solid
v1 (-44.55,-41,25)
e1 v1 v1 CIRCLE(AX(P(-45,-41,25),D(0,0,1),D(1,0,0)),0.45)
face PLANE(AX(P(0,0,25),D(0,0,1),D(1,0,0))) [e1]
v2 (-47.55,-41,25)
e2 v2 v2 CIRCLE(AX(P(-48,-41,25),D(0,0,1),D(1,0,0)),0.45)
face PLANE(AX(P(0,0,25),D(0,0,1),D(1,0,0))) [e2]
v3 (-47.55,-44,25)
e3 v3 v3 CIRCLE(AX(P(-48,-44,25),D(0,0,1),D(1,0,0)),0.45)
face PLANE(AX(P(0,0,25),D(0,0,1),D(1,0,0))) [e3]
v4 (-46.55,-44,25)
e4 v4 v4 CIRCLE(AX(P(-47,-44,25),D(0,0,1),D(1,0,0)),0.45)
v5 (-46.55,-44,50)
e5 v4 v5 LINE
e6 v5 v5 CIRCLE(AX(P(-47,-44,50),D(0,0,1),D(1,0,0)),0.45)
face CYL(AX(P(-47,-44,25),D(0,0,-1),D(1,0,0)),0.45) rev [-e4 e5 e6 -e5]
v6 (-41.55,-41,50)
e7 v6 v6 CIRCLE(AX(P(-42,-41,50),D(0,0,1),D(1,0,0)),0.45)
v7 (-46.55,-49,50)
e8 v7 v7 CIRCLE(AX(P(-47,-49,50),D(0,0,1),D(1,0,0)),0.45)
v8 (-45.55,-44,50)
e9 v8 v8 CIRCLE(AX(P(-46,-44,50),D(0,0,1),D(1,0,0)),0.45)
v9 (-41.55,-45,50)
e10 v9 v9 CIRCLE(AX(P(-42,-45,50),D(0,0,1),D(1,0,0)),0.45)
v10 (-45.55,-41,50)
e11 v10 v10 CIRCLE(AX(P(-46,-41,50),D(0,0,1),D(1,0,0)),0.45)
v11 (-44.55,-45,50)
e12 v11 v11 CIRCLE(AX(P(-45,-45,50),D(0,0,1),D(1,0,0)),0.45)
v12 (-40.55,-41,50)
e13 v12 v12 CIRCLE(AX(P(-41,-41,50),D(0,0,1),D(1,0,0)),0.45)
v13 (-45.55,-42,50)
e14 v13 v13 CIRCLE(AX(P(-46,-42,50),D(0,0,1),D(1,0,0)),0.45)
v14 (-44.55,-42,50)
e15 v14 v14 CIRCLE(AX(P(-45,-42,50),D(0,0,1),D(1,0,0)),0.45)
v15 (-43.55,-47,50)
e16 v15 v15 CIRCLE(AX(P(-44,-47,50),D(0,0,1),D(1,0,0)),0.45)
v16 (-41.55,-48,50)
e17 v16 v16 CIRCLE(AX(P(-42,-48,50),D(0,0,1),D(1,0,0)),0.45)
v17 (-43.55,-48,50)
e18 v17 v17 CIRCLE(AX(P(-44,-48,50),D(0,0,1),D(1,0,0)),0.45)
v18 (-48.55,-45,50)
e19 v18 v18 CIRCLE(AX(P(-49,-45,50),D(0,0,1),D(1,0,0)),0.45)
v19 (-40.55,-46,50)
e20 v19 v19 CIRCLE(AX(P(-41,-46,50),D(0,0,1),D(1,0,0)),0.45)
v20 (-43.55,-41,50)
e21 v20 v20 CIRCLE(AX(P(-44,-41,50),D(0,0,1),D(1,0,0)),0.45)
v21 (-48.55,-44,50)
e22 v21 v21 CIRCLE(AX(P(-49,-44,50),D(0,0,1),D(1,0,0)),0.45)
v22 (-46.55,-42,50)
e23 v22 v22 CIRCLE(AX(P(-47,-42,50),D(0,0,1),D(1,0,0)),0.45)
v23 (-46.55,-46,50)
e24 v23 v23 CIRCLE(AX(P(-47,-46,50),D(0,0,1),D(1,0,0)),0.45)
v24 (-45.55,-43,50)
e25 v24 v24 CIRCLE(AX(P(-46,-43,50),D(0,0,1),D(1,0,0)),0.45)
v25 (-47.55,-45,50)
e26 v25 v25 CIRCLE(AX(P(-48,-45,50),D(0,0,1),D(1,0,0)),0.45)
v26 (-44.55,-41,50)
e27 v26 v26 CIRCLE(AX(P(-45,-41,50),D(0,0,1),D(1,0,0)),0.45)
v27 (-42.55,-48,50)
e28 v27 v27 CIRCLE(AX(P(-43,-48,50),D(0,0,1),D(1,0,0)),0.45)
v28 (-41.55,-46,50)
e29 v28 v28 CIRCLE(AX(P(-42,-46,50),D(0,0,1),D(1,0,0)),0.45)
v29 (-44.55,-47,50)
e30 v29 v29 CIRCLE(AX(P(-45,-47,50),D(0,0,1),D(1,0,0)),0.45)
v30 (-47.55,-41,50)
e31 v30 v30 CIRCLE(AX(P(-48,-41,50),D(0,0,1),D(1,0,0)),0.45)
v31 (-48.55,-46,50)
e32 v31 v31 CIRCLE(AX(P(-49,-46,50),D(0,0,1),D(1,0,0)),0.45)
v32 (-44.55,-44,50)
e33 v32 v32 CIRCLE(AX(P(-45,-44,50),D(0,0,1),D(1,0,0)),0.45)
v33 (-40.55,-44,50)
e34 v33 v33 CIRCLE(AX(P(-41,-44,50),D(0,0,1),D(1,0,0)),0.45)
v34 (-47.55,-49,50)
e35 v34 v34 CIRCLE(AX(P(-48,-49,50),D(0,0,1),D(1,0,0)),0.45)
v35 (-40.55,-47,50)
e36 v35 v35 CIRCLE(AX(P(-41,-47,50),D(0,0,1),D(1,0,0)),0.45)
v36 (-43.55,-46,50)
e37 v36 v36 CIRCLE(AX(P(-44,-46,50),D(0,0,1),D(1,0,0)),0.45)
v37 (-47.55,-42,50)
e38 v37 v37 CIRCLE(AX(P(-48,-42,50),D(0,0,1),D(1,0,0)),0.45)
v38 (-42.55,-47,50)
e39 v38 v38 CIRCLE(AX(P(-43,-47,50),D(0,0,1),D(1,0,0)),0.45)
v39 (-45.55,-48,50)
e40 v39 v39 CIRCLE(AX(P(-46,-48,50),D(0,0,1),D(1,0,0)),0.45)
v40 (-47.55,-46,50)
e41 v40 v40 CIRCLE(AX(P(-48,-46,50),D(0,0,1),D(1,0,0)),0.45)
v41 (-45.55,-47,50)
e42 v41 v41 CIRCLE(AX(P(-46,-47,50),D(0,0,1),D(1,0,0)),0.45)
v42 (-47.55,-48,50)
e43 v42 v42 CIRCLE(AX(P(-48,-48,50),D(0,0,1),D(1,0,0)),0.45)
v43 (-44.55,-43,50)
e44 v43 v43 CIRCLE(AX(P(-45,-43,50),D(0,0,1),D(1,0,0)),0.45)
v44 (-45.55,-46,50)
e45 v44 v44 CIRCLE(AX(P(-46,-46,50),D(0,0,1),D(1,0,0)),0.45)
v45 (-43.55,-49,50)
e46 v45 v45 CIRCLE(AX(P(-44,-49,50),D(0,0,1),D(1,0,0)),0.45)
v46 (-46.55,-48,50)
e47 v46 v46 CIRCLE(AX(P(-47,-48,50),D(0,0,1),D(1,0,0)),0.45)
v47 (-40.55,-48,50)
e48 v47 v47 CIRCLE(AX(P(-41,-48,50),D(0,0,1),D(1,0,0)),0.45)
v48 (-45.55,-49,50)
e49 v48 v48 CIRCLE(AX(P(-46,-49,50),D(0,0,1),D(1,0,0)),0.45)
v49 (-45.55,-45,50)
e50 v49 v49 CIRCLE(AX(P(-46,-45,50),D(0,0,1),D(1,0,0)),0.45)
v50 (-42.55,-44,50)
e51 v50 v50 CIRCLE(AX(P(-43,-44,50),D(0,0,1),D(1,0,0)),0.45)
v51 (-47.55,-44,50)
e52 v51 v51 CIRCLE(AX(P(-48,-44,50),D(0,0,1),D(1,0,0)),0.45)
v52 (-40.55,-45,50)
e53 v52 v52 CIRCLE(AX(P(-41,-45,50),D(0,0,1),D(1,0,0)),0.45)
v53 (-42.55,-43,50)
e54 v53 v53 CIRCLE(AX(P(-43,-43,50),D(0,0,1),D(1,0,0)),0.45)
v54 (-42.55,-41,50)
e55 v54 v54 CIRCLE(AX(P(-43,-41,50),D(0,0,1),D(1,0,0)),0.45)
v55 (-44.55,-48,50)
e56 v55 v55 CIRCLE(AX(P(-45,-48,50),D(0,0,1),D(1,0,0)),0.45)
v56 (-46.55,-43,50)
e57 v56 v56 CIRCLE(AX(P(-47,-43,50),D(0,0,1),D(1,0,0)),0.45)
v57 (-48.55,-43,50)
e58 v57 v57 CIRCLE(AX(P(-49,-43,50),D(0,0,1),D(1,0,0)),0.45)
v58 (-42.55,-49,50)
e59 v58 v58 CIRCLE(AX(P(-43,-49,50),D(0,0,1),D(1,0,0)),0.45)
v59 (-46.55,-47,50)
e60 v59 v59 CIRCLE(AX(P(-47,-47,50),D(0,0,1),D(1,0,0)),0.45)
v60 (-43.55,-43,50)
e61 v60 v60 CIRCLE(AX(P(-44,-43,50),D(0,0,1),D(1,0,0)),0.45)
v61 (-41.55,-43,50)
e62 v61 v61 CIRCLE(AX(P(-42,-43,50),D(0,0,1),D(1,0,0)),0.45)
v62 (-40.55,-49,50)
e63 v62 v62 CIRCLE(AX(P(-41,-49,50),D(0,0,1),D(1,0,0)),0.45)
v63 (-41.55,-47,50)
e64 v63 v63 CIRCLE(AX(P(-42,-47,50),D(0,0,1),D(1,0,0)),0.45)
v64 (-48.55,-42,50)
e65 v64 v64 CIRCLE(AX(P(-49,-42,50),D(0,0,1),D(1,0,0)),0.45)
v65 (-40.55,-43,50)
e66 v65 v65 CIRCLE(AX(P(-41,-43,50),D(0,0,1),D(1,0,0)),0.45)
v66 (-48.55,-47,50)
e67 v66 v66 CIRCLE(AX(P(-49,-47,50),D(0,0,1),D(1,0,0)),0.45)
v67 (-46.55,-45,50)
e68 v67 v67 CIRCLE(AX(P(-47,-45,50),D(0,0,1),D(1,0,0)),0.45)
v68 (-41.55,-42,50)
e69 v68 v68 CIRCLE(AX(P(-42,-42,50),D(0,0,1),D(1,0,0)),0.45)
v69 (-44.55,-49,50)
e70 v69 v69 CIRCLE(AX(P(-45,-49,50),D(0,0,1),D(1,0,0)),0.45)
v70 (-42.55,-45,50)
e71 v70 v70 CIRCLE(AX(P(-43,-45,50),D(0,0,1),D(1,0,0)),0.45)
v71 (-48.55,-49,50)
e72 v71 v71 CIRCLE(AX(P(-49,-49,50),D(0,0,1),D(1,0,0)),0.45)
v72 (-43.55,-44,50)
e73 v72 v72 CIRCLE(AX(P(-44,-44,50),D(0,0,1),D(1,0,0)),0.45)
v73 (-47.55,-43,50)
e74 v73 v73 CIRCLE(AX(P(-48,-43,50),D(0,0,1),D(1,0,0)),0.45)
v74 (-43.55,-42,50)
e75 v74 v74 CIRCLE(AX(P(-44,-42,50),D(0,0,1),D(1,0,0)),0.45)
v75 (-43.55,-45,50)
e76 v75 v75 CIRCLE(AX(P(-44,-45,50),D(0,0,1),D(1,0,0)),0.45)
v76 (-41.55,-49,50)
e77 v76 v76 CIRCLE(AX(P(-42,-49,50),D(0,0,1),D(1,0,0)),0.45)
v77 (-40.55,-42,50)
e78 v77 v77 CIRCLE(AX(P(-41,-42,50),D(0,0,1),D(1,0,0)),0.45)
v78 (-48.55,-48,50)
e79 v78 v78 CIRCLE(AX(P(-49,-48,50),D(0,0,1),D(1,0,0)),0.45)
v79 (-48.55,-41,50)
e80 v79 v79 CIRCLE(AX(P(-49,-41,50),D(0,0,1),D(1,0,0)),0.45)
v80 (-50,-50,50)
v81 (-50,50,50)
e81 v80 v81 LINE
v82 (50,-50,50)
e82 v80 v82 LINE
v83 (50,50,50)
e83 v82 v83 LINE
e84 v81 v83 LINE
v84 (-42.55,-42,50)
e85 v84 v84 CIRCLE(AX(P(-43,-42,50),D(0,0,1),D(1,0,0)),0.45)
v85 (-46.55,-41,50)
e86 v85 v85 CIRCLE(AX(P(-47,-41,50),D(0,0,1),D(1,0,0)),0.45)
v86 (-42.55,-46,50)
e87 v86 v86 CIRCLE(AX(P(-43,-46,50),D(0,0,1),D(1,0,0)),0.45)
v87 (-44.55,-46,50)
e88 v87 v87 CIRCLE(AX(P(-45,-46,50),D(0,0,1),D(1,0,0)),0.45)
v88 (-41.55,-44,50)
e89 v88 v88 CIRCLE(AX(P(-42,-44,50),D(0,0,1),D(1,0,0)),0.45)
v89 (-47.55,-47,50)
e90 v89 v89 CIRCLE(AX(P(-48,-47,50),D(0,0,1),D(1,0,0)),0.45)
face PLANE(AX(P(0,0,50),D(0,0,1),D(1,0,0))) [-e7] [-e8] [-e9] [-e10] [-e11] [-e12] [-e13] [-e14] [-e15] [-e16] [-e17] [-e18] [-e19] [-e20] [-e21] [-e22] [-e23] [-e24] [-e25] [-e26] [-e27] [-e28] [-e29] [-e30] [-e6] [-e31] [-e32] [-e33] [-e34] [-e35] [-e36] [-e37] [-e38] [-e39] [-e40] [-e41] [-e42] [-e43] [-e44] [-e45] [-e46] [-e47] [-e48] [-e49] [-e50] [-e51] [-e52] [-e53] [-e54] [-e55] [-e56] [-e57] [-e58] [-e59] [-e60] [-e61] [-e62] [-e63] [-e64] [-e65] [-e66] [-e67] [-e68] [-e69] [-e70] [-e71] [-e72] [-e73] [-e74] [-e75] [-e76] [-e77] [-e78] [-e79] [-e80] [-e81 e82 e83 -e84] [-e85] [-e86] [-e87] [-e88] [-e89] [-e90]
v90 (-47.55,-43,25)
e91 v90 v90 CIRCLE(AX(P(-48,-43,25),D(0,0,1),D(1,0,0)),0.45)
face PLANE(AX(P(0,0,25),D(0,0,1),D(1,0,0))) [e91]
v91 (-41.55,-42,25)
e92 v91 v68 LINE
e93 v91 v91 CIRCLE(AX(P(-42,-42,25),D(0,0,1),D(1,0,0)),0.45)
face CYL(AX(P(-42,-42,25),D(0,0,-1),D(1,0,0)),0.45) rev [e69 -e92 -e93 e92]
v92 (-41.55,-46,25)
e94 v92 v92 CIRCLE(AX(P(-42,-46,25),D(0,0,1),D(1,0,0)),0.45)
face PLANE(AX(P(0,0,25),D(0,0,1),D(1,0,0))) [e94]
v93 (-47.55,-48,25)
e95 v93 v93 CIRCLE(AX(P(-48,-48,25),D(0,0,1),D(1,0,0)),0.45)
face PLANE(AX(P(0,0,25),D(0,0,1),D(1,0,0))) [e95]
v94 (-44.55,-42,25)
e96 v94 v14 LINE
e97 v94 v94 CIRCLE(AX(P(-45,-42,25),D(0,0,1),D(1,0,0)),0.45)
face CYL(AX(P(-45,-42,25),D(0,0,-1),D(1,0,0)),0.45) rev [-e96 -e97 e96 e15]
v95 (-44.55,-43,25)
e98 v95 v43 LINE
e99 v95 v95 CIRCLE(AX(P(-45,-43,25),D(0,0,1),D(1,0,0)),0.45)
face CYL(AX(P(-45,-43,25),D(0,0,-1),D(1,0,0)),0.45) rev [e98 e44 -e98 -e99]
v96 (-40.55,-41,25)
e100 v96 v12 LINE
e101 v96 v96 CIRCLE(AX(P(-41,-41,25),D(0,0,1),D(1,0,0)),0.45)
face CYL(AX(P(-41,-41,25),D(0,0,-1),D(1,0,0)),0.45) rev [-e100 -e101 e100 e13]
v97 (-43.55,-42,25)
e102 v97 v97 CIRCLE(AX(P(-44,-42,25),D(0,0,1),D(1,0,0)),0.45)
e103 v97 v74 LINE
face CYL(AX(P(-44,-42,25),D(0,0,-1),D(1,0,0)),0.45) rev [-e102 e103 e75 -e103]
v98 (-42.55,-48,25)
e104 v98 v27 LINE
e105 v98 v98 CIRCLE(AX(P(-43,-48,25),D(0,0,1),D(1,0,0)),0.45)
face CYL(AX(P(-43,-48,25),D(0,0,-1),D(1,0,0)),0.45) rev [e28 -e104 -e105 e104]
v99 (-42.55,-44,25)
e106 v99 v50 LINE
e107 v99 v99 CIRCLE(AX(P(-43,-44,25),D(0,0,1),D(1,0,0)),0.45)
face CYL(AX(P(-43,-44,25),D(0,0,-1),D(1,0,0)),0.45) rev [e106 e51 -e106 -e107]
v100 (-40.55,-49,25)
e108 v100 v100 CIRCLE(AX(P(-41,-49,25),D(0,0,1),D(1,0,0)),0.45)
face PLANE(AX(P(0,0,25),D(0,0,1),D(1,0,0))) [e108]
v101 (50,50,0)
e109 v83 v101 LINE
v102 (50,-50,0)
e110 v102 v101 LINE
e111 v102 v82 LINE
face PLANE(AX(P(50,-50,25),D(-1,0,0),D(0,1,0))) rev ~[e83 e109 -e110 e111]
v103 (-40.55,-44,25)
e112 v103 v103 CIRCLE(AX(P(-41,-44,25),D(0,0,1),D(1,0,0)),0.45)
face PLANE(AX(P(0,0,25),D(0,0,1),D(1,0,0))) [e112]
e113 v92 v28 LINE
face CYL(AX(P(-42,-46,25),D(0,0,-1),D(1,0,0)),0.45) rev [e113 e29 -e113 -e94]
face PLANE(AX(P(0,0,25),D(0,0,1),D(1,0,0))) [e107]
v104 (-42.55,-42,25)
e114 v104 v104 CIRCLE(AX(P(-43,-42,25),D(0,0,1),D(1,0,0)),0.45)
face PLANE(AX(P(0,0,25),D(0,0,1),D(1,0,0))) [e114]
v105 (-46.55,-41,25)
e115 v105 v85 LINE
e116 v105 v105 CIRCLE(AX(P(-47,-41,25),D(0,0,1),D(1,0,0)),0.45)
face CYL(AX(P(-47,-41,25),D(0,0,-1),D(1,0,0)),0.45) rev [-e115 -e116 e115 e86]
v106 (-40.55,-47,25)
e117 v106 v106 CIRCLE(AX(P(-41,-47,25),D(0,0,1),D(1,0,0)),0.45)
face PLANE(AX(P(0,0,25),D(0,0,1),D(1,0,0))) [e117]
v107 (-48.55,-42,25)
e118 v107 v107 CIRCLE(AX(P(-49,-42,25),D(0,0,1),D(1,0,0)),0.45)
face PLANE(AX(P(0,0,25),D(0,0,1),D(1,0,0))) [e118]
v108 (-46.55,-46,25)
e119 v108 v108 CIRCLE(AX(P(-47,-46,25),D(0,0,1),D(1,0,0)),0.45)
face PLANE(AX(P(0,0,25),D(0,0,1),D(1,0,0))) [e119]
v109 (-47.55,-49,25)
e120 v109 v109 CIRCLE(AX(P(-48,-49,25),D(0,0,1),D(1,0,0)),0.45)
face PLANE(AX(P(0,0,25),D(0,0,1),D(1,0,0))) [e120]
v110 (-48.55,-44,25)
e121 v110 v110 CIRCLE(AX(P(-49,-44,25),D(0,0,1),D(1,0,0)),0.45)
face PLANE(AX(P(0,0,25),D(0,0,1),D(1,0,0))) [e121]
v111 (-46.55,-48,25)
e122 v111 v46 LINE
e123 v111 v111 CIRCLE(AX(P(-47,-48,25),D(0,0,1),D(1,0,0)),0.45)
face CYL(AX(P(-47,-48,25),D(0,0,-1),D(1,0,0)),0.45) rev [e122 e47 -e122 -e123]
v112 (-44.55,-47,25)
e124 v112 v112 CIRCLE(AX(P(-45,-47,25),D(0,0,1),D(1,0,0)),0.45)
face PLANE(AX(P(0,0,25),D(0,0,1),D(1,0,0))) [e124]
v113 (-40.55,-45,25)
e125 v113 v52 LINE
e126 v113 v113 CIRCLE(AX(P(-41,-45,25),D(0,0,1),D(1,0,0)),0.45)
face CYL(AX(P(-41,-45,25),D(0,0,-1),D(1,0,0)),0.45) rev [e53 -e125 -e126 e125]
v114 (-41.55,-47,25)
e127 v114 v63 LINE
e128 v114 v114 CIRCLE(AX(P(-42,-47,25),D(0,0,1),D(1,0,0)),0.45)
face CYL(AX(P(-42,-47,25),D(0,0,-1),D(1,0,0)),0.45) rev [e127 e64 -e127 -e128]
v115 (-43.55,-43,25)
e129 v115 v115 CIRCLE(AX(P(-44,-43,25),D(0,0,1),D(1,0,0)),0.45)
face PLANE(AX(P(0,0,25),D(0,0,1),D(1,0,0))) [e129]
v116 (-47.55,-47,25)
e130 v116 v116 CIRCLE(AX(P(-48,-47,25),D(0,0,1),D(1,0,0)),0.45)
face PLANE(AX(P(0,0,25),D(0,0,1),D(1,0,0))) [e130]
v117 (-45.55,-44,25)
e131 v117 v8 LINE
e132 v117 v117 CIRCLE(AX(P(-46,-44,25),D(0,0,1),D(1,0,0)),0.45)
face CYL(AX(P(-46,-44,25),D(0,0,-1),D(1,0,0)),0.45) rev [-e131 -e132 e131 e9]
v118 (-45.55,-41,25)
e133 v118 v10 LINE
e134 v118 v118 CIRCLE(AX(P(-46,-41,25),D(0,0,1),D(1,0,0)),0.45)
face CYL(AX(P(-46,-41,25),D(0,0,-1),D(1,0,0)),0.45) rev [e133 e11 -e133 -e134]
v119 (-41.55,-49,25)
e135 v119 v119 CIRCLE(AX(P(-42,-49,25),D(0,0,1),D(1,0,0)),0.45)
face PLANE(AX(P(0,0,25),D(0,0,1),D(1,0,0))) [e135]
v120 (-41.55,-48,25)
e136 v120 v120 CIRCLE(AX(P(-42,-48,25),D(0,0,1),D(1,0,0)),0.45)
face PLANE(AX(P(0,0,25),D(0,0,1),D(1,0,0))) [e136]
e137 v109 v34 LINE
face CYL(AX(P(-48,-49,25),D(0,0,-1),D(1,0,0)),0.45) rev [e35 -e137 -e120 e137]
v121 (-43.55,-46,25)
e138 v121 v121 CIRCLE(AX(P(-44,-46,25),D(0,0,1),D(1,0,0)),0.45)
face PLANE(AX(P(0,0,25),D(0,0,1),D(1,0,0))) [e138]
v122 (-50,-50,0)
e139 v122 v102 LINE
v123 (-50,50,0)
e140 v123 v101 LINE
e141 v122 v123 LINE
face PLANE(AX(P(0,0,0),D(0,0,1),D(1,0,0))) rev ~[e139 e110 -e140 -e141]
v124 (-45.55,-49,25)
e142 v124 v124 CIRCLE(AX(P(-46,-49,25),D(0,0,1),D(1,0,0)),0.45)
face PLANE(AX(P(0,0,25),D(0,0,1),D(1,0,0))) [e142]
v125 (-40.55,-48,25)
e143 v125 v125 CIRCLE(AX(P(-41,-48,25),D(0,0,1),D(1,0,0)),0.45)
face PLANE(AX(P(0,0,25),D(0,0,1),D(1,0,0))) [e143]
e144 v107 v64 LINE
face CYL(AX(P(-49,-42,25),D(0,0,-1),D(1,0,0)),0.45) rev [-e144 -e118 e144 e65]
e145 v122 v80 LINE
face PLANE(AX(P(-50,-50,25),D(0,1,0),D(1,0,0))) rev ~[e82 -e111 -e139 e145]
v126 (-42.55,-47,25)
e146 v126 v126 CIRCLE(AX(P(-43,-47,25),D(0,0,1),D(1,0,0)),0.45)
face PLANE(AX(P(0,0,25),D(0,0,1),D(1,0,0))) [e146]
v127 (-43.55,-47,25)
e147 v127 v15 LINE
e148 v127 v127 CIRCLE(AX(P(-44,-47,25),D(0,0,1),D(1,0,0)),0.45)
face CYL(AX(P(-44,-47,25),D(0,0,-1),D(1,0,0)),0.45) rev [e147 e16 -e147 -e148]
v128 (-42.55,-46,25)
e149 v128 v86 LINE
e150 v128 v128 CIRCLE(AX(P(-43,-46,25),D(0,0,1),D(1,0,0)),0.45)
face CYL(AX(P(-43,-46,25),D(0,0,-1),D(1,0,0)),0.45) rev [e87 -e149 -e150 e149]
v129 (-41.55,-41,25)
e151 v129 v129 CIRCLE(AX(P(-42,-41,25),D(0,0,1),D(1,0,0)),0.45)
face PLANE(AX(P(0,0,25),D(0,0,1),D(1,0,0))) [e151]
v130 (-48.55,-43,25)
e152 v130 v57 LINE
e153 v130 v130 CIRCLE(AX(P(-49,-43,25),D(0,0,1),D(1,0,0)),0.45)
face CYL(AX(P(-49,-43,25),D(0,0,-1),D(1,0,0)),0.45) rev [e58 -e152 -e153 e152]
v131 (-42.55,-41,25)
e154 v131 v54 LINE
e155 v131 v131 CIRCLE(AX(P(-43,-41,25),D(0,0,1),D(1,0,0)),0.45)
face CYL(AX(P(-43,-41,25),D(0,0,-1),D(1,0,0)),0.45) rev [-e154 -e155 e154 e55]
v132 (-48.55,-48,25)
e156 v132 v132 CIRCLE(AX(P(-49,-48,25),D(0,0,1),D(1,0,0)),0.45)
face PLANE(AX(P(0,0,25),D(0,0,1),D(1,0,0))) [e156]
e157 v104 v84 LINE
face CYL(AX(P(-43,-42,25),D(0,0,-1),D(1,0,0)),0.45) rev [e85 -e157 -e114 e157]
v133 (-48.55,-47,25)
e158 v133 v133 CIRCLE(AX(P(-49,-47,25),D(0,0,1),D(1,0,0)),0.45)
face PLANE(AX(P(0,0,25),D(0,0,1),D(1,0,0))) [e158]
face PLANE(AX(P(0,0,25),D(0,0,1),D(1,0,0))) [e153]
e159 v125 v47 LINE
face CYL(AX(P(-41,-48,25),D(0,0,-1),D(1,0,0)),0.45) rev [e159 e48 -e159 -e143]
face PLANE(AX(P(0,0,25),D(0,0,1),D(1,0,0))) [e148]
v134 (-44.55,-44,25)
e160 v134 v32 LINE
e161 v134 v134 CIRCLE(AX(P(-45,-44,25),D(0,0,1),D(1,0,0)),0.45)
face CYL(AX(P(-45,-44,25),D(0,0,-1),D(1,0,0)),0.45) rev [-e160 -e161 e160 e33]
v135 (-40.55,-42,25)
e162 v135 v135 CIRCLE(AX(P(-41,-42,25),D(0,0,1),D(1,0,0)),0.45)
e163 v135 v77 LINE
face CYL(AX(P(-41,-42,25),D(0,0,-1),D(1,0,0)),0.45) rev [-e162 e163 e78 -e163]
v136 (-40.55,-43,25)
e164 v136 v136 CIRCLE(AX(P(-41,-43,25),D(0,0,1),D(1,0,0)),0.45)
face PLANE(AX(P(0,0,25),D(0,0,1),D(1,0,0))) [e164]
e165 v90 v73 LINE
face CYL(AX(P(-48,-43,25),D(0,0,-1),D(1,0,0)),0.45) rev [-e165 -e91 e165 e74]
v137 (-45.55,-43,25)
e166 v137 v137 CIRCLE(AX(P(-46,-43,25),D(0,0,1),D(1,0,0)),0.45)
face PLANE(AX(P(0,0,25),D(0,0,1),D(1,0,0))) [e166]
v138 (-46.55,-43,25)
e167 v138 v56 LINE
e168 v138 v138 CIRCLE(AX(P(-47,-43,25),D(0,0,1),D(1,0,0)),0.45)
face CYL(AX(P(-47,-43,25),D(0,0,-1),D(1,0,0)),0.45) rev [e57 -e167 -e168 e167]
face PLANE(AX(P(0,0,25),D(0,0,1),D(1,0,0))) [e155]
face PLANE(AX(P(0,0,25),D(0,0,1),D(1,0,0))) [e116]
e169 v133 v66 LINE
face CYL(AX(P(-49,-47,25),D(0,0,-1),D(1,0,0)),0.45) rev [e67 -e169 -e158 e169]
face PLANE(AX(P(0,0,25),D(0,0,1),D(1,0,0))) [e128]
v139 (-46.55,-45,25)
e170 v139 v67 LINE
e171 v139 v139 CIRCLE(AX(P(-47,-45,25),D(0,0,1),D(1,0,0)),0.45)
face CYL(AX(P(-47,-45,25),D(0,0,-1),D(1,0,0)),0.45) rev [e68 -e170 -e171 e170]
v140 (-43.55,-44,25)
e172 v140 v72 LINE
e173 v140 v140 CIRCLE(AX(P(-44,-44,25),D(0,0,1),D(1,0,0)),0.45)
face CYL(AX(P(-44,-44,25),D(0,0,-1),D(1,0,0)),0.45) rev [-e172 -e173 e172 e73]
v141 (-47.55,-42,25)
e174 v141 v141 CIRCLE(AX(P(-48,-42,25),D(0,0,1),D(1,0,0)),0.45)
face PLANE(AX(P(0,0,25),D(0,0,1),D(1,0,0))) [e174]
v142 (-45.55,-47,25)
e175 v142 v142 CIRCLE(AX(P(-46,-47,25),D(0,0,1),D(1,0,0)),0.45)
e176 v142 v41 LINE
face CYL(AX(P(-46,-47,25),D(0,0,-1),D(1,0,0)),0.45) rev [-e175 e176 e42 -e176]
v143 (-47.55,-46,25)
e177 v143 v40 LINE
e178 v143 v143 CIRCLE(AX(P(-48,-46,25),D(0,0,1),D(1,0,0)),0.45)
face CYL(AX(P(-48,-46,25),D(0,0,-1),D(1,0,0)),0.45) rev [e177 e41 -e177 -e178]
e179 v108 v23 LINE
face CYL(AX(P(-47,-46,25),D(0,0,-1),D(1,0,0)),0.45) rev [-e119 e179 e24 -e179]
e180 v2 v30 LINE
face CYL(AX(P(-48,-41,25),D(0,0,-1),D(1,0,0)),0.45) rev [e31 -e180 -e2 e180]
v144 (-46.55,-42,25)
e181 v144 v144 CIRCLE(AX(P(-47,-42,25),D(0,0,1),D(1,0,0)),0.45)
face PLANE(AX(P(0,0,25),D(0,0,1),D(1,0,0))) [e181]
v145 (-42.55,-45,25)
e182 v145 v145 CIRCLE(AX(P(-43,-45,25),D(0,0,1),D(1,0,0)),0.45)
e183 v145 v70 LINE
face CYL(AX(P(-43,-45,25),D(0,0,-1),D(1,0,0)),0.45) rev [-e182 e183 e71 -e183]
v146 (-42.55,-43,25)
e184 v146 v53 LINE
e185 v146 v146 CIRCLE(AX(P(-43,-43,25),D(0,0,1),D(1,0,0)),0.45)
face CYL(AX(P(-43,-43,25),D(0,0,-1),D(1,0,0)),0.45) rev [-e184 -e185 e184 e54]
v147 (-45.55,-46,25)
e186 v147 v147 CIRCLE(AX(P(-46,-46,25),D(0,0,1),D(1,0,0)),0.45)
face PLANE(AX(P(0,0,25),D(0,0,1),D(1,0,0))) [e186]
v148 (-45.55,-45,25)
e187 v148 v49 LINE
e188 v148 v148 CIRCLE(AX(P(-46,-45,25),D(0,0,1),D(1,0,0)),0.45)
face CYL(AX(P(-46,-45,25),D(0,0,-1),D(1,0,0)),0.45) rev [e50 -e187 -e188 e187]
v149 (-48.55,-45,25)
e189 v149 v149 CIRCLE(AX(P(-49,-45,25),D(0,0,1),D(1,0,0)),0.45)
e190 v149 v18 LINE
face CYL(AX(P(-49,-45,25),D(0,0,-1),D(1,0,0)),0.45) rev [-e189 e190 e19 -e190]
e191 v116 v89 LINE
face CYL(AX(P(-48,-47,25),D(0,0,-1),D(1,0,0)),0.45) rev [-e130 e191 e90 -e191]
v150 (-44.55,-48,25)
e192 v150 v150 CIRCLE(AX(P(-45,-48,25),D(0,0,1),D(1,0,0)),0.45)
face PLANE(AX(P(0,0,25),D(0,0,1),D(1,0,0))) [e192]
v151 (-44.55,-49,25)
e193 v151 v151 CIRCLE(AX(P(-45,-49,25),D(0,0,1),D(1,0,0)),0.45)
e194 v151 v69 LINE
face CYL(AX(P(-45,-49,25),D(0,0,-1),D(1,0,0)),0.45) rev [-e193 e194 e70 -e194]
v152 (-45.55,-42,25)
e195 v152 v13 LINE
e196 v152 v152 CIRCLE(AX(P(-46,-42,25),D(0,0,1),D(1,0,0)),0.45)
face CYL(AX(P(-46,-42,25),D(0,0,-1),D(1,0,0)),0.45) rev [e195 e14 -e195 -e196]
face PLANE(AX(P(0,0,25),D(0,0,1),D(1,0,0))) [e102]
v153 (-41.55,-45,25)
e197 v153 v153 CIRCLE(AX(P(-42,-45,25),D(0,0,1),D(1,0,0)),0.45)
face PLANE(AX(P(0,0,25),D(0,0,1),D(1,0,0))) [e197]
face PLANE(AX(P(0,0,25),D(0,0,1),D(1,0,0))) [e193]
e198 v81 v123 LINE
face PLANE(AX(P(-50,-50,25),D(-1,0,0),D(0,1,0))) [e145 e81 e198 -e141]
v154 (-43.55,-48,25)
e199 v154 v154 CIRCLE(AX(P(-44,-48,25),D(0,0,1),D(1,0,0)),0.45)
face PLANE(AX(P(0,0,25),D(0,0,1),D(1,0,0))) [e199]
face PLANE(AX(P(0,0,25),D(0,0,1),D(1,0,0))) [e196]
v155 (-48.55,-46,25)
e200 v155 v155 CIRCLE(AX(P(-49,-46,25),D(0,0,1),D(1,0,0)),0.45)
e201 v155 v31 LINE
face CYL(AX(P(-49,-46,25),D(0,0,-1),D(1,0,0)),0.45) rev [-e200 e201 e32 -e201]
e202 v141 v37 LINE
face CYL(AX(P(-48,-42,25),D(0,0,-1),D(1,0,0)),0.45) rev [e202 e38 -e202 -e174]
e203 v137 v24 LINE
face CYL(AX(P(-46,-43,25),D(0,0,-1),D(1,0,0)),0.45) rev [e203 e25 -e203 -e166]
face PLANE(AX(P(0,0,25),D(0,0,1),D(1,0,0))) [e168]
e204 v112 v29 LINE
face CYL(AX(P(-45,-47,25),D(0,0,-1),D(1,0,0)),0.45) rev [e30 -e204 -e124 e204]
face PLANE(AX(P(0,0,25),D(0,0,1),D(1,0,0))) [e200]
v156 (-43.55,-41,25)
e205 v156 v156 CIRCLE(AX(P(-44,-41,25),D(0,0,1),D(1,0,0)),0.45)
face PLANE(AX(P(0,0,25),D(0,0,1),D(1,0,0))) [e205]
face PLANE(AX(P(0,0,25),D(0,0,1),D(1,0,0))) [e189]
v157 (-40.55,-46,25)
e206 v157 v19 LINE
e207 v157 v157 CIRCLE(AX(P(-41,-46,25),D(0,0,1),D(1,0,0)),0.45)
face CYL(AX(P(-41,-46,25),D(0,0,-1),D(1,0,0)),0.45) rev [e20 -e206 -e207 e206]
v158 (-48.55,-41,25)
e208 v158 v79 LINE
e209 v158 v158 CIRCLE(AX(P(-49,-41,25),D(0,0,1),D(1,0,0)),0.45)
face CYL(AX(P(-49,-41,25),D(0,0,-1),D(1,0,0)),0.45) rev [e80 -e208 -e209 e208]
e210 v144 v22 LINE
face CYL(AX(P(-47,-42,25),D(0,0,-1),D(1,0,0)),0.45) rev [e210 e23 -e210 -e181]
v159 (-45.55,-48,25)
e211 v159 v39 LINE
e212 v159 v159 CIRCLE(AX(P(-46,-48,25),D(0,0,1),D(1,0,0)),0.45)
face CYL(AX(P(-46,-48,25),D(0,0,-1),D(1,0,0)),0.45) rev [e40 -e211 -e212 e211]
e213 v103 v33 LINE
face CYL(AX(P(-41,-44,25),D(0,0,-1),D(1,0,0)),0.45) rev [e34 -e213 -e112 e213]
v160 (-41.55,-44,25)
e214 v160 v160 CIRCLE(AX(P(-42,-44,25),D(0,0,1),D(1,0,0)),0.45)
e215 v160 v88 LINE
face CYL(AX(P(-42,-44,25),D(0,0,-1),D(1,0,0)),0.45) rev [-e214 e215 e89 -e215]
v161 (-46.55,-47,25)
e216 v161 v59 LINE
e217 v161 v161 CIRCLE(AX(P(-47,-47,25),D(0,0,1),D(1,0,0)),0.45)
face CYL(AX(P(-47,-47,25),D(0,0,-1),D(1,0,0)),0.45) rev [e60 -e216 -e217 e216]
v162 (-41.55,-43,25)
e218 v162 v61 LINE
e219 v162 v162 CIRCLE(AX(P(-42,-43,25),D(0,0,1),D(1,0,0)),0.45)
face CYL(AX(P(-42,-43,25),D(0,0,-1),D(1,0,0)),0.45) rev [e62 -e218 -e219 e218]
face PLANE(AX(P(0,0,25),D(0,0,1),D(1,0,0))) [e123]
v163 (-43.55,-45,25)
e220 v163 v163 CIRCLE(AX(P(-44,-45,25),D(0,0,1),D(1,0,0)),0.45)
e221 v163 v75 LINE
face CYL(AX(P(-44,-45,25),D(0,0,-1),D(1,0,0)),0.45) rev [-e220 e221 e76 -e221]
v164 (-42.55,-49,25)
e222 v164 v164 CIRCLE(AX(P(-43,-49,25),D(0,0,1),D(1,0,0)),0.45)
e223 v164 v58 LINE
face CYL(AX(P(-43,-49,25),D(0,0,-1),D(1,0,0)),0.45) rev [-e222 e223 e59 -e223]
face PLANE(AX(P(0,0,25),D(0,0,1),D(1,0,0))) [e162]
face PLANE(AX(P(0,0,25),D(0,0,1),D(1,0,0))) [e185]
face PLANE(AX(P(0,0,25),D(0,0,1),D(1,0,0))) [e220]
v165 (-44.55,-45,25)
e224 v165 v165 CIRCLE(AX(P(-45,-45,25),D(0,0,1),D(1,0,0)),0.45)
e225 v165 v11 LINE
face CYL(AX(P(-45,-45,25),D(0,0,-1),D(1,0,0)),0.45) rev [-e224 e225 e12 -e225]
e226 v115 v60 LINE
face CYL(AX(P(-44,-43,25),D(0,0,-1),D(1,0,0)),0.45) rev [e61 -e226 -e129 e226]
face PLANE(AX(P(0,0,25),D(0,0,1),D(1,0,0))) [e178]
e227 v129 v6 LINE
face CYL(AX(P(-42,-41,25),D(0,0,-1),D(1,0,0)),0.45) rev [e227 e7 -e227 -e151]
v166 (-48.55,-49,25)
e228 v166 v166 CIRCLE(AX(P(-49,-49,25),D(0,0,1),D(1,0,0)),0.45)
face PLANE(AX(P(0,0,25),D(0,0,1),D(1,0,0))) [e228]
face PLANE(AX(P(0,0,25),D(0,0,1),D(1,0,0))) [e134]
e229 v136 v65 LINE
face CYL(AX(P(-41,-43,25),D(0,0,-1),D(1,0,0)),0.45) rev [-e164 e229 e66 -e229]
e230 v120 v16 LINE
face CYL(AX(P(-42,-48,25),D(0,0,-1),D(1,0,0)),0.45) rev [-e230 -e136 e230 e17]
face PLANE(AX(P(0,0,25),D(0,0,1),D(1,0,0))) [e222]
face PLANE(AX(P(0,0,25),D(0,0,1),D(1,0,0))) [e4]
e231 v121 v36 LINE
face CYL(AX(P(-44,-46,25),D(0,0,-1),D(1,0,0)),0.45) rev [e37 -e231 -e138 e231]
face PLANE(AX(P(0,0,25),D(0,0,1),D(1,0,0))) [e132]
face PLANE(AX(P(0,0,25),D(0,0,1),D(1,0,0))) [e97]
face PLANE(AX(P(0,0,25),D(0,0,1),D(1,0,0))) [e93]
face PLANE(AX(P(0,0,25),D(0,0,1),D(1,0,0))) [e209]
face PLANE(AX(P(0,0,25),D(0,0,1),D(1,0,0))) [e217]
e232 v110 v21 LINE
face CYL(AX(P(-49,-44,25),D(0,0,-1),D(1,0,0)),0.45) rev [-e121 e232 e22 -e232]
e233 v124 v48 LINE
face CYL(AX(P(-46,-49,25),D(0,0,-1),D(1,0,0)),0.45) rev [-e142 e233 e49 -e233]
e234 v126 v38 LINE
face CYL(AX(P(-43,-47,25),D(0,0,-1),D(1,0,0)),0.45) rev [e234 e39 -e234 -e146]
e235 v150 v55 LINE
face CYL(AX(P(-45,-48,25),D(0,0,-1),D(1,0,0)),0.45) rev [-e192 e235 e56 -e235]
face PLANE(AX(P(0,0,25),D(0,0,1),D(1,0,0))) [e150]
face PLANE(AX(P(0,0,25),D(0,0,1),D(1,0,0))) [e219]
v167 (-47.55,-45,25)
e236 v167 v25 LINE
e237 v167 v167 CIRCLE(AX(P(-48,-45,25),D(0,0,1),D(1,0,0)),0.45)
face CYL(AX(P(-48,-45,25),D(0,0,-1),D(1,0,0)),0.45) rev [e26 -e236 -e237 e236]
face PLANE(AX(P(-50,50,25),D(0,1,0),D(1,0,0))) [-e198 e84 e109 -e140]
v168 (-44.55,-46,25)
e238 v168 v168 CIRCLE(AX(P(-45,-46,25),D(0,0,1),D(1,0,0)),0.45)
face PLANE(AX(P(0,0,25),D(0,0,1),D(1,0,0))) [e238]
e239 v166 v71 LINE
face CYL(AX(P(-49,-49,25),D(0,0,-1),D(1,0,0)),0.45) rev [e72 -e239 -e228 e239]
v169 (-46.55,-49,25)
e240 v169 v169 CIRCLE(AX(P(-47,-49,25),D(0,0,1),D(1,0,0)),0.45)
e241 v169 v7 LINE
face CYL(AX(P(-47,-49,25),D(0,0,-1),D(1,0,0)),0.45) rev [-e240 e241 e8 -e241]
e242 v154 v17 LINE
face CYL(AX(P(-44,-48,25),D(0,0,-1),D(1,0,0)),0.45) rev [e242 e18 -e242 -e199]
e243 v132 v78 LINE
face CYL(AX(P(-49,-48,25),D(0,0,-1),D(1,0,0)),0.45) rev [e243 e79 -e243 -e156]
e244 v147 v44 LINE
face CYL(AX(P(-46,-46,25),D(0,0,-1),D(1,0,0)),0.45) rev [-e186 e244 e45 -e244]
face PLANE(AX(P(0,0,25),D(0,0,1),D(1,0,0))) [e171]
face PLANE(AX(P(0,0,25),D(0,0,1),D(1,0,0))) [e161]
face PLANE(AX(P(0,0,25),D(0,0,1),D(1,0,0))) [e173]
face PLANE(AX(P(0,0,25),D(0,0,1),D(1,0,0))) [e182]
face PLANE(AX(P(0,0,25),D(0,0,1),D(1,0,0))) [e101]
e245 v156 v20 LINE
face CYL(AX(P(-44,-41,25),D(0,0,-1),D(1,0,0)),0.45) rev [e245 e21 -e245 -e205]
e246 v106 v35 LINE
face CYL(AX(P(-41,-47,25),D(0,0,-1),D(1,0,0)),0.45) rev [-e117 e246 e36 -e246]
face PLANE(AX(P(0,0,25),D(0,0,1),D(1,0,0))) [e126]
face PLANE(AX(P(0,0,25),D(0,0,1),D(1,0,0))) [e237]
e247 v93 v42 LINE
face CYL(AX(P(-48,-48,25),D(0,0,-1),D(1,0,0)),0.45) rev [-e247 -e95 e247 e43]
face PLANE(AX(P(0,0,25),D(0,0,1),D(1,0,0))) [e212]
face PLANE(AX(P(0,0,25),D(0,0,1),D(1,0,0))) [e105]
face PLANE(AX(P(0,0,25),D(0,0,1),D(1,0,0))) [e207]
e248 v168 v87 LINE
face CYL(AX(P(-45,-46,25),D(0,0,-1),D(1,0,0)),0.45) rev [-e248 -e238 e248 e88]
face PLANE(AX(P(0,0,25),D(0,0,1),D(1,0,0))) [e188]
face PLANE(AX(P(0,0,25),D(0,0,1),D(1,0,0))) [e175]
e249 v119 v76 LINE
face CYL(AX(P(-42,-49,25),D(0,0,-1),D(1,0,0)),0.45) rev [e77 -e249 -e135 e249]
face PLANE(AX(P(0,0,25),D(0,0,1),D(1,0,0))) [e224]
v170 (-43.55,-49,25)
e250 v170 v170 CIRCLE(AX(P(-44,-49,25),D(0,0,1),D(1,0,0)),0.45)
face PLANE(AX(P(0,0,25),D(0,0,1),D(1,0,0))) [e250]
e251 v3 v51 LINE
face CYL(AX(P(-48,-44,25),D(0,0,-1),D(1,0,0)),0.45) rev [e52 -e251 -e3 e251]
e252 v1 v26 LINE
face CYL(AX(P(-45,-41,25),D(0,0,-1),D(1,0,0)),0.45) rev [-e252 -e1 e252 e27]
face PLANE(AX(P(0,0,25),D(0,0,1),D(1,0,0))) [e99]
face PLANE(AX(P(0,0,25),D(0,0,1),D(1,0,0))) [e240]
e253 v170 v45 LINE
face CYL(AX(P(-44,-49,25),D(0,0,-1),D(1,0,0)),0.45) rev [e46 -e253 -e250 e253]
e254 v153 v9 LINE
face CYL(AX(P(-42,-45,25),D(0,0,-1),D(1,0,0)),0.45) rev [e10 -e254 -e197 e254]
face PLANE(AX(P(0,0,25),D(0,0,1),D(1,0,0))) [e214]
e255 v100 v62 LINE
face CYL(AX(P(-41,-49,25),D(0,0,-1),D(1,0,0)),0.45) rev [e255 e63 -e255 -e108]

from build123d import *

# Parameters (mm, degrees)
F0_W     = 100
F0_H     = 100
F1_DEPTH = 25
F2_W     = 100
F2_H     = 100
F2_R     = 0.45
F3_DEPTH = 25


with BuildPart() as f1:
    # F0 (on Top) → F1 (new body)
    with BuildSketch(Plane.XY):
        Rectangle(F0_W, F0_H)
    extrude(amount=F1_DEPTH)

    # F2 (on face) → F3 (join)
    with BuildSketch(Plane.XY.offset(25)):
        Rectangle(F2_W, F2_H)
        with Locations((-49, -49)):
            Circle(F2_R, mode=Mode.SUBTRACT)
        with Locations((-48, -49)):
            Circle(F2_R, mode=Mode.SUBTRACT)
        with Locations((-47, -49)):
            Circle(F2_R, mode=Mode.SUBTRACT)
        with Locations((-49, -48)):
            Circle(F2_R, mode=Mode.SUBTRACT)
        with Locations((-49, -47)):
            Circle(F2_R, mode=Mode.SUBTRACT)
        with Locations((-48, -48)):
            Circle(F2_R, mode=Mode.SUBTRACT)
        with Locations((-47, -48)):
            Circle(F2_R, mode=Mode.SUBTRACT)
        with Locations((-48, -47)):
            Circle(F2_R, mode=Mode.SUBTRACT)
        with Locations((-47, -47)):
            Circle(F2_R, mode=Mode.SUBTRACT)
        with Locations((-46, -49)):
            Circle(F2_R, mode=Mode.SUBTRACT)
        with Locations((-45, -49)):
            Circle(F2_R, mode=Mode.SUBTRACT)
        with Locations((-44, -49)):
            Circle(F2_R, mode=Mode.SUBTRACT)
        with Locations((-46, -48)):
            Circle(F2_R, mode=Mode.SUBTRACT)
        with Locations((-46, -47)):
            Circle(F2_R, mode=Mode.SUBTRACT)
        with Locations((-45, -48)):
            Circle(F2_R, mode=Mode.SUBTRACT)
        with Locations((-44, -48)):
            Circle(F2_R, mode=Mode.SUBTRACT)
        with Locations((-45, -47)):
            Circle(F2_R, mode=Mode.SUBTRACT)
        with Locations((-44, -47)):
            Circle(F2_R, mode=Mode.SUBTRACT)
        with Locations((-49, -46)):
            Circle(F2_R, mode=Mode.SUBTRACT)
        with Locations((-48, -46)):
            Circle(F2_R, mode=Mode.SUBTRACT)
        with Locations((-47, -46)):
            Circle(F2_R, mode=Mode.SUBTRACT)
        with Locations((-49, -45)):
            Circle(F2_R, mode=Mode.SUBTRACT)
        with Locations((-49, -44)):
            Circle(F2_R, mode=Mode.SUBTRACT)
        with Locations((-48, -45)):
            Circle(F2_R, mode=Mode.SUBTRACT)
        with Locations((-47, -45)):
            Circle(F2_R, mode=Mode.SUBTRACT)
        with Locations((-48, -44)):
            Circle(F2_R, mode=Mode.SUBTRACT)
        with Locations((-47, -44)):
            Circle(F2_R, mode=Mode.SUBTRACT)
        with Locations((-46, -46)):
            Circle(F2_R, mode=Mode.SUBTRACT)
        with Locations((-45, -46)):
            Circle(F2_R, mode=Mode.SUBTRACT)
        with Locations((-44, -46)):
            Circle(F2_R, mode=Mode.SUBTRACT)
        with Locations((-46, -45)):
            Circle(F2_R, mode=Mode.SUBTRACT)
        with Locations((-46, -44)):
            Circle(F2_R, mode=Mode.SUBTRACT)
        with Locations((-45, -45)):
            Circle(F2_R, mode=Mode.SUBTRACT)
        with Locations((-44, -45)):
            Circle(F2_R, mode=Mode.SUBTRACT)
        with Locations((-45, -44)):
            Circle(F2_R, mode=Mode.SUBTRACT)
        with Locations((-44, -44)):
            Circle(F2_R, mode=Mode.SUBTRACT)
        with Locations((-43, -49)):
            Circle(F2_R, mode=Mode.SUBTRACT)
        with Locations((-42, -49)):
            Circle(F2_R, mode=Mode.SUBTRACT)
        with Locations((-41, -49)):
            Circle(F2_R, mode=Mode.SUBTRACT)
        with Locations((-43, -48)):
            Circle(F2_R, mode=Mode.SUBTRACT)
        with Locations((-43, -47)):
            Circle(F2_R, mode=Mode.SUBTRACT)
        with Locations((-42, -48)):
            Circle(F2_R, mode=Mode.SUBTRACT)
        with Locations((-41, -48)):
            Circle(F2_R, mode=Mode.SUBTRACT)
        with Locations((-42, -47)):
            Circle(F2_R, mode=Mode.SUBTRACT)
        with Locations((-41, -47)):
            Circle(F2_R, mode=Mode.SUBTRACT)
        with Locations((-43, -46)):
            Circle(F2_R, mode=Mode.SUBTRACT)
        with Locations((-42, -46)):
            Circle(F2_R, mode=Mode.SUBTRACT)
        with Locations((-41, -46)):
            Circle(F2_R, mode=Mode.SUBTRACT)
        with Locations((-43, -45)):
            Circle(F2_R, mode=Mode.SUBTRACT)
        with Locations((-43, -44)):
            Circle(F2_R, mode=Mode.SUBTRACT)
        with Locations((-42, -45)):
            Circle(F2_R, mode=Mode.SUBTRACT)
        with Locations((-41, -45)):
            Circle(F2_R, mode=Mode.SUBTRACT)
        with Locations((-42, -44)):
            Circle(F2_R, mode=Mode.SUBTRACT)
        with Locations((-41, -44)):
            Circle(F2_R, mode=Mode.SUBTRACT)
        with Locations((-49, -43)):
            Circle(F2_R, mode=Mode.SUBTRACT)
        with Locations((-48, -43)):
            Circle(F2_R, mode=Mode.SUBTRACT)
        with Locations((-47, -43)):
            Circle(F2_R, mode=Mode.SUBTRACT)
        with Locations((-49, -42)):
            Circle(F2_R, mode=Mode.SUBTRACT)
        with Locations((-49, -41)):
            Circle(F2_R, mode=Mode.SUBTRACT)
        with Locations((-48, -42)):
            Circle(F2_R, mode=Mode.SUBTRACT)
        with Locations((-47, -42)):
            Circle(F2_R, mode=Mode.SUBTRACT)
        with Locations((-48, -41)):
            Circle(F2_R, mode=Mode.SUBTRACT)
        with Locations((-47, -41)):
            Circle(F2_R, mode=Mode.SUBTRACT)
        with Locations((-46, -43)):
            Circle(F2_R, mode=Mode.SUBTRACT)
        with Locations((-45, -43)):
            Circle(F2_R, mode=Mode.SUBTRACT)
        with Locations((-44, -43)):
            Circle(F2_R, mode=Mode.SUBTRACT)
        with Locations((-46, -42)):
            Circle(F2_R, mode=Mode.SUBTRACT)
        with Locations((-46, -41)):
            Circle(F2_R, mode=Mode.SUBTRACT)
        with Locations((-45, -42)):
            Circle(F2_R, mode=Mode.SUBTRACT)
        with Locations((-44, -42)):
            Circle(F2_R, mode=Mode.SUBTRACT)
        with Locations((-45, -41)):
            Circle(F2_R, mode=Mode.SUBTRACT)
        with Locations((-44, -41)):
            Circle(F2_R, mode=Mode.SUBTRACT)
        with Locations((-43, -43)):
            Circle(F2_R, mode=Mode.SUBTRACT)
        with Locations((-42, -43)):
            Circle(F2_R, mode=Mode.SUBTRACT)
        with Locations((-41, -43)):
            Circle(F2_R, mode=Mode.SUBTRACT)
        with Locations((-43, -42)):
            Circle(F2_R, mode=Mode.SUBTRACT)
        with Locations((-43, -41)):
            Circle(F2_R, mode=Mode.SUBTRACT)
        with Locations((-42, -42)):
            Circle(F2_R, mode=Mode.SUBTRACT)
        with Locations((-41, -42)):
            Circle(F2_R, mode=Mode.SUBTRACT)
        with Locations((-42, -41)):
            Circle(F2_R, mode=Mode.SUBTRACT)
        with Locations((-41, -41)):
            Circle(F2_R, mode=Mode.SUBTRACT)
    extrude(amount=F3_DEPTH)


solid = f1.part
